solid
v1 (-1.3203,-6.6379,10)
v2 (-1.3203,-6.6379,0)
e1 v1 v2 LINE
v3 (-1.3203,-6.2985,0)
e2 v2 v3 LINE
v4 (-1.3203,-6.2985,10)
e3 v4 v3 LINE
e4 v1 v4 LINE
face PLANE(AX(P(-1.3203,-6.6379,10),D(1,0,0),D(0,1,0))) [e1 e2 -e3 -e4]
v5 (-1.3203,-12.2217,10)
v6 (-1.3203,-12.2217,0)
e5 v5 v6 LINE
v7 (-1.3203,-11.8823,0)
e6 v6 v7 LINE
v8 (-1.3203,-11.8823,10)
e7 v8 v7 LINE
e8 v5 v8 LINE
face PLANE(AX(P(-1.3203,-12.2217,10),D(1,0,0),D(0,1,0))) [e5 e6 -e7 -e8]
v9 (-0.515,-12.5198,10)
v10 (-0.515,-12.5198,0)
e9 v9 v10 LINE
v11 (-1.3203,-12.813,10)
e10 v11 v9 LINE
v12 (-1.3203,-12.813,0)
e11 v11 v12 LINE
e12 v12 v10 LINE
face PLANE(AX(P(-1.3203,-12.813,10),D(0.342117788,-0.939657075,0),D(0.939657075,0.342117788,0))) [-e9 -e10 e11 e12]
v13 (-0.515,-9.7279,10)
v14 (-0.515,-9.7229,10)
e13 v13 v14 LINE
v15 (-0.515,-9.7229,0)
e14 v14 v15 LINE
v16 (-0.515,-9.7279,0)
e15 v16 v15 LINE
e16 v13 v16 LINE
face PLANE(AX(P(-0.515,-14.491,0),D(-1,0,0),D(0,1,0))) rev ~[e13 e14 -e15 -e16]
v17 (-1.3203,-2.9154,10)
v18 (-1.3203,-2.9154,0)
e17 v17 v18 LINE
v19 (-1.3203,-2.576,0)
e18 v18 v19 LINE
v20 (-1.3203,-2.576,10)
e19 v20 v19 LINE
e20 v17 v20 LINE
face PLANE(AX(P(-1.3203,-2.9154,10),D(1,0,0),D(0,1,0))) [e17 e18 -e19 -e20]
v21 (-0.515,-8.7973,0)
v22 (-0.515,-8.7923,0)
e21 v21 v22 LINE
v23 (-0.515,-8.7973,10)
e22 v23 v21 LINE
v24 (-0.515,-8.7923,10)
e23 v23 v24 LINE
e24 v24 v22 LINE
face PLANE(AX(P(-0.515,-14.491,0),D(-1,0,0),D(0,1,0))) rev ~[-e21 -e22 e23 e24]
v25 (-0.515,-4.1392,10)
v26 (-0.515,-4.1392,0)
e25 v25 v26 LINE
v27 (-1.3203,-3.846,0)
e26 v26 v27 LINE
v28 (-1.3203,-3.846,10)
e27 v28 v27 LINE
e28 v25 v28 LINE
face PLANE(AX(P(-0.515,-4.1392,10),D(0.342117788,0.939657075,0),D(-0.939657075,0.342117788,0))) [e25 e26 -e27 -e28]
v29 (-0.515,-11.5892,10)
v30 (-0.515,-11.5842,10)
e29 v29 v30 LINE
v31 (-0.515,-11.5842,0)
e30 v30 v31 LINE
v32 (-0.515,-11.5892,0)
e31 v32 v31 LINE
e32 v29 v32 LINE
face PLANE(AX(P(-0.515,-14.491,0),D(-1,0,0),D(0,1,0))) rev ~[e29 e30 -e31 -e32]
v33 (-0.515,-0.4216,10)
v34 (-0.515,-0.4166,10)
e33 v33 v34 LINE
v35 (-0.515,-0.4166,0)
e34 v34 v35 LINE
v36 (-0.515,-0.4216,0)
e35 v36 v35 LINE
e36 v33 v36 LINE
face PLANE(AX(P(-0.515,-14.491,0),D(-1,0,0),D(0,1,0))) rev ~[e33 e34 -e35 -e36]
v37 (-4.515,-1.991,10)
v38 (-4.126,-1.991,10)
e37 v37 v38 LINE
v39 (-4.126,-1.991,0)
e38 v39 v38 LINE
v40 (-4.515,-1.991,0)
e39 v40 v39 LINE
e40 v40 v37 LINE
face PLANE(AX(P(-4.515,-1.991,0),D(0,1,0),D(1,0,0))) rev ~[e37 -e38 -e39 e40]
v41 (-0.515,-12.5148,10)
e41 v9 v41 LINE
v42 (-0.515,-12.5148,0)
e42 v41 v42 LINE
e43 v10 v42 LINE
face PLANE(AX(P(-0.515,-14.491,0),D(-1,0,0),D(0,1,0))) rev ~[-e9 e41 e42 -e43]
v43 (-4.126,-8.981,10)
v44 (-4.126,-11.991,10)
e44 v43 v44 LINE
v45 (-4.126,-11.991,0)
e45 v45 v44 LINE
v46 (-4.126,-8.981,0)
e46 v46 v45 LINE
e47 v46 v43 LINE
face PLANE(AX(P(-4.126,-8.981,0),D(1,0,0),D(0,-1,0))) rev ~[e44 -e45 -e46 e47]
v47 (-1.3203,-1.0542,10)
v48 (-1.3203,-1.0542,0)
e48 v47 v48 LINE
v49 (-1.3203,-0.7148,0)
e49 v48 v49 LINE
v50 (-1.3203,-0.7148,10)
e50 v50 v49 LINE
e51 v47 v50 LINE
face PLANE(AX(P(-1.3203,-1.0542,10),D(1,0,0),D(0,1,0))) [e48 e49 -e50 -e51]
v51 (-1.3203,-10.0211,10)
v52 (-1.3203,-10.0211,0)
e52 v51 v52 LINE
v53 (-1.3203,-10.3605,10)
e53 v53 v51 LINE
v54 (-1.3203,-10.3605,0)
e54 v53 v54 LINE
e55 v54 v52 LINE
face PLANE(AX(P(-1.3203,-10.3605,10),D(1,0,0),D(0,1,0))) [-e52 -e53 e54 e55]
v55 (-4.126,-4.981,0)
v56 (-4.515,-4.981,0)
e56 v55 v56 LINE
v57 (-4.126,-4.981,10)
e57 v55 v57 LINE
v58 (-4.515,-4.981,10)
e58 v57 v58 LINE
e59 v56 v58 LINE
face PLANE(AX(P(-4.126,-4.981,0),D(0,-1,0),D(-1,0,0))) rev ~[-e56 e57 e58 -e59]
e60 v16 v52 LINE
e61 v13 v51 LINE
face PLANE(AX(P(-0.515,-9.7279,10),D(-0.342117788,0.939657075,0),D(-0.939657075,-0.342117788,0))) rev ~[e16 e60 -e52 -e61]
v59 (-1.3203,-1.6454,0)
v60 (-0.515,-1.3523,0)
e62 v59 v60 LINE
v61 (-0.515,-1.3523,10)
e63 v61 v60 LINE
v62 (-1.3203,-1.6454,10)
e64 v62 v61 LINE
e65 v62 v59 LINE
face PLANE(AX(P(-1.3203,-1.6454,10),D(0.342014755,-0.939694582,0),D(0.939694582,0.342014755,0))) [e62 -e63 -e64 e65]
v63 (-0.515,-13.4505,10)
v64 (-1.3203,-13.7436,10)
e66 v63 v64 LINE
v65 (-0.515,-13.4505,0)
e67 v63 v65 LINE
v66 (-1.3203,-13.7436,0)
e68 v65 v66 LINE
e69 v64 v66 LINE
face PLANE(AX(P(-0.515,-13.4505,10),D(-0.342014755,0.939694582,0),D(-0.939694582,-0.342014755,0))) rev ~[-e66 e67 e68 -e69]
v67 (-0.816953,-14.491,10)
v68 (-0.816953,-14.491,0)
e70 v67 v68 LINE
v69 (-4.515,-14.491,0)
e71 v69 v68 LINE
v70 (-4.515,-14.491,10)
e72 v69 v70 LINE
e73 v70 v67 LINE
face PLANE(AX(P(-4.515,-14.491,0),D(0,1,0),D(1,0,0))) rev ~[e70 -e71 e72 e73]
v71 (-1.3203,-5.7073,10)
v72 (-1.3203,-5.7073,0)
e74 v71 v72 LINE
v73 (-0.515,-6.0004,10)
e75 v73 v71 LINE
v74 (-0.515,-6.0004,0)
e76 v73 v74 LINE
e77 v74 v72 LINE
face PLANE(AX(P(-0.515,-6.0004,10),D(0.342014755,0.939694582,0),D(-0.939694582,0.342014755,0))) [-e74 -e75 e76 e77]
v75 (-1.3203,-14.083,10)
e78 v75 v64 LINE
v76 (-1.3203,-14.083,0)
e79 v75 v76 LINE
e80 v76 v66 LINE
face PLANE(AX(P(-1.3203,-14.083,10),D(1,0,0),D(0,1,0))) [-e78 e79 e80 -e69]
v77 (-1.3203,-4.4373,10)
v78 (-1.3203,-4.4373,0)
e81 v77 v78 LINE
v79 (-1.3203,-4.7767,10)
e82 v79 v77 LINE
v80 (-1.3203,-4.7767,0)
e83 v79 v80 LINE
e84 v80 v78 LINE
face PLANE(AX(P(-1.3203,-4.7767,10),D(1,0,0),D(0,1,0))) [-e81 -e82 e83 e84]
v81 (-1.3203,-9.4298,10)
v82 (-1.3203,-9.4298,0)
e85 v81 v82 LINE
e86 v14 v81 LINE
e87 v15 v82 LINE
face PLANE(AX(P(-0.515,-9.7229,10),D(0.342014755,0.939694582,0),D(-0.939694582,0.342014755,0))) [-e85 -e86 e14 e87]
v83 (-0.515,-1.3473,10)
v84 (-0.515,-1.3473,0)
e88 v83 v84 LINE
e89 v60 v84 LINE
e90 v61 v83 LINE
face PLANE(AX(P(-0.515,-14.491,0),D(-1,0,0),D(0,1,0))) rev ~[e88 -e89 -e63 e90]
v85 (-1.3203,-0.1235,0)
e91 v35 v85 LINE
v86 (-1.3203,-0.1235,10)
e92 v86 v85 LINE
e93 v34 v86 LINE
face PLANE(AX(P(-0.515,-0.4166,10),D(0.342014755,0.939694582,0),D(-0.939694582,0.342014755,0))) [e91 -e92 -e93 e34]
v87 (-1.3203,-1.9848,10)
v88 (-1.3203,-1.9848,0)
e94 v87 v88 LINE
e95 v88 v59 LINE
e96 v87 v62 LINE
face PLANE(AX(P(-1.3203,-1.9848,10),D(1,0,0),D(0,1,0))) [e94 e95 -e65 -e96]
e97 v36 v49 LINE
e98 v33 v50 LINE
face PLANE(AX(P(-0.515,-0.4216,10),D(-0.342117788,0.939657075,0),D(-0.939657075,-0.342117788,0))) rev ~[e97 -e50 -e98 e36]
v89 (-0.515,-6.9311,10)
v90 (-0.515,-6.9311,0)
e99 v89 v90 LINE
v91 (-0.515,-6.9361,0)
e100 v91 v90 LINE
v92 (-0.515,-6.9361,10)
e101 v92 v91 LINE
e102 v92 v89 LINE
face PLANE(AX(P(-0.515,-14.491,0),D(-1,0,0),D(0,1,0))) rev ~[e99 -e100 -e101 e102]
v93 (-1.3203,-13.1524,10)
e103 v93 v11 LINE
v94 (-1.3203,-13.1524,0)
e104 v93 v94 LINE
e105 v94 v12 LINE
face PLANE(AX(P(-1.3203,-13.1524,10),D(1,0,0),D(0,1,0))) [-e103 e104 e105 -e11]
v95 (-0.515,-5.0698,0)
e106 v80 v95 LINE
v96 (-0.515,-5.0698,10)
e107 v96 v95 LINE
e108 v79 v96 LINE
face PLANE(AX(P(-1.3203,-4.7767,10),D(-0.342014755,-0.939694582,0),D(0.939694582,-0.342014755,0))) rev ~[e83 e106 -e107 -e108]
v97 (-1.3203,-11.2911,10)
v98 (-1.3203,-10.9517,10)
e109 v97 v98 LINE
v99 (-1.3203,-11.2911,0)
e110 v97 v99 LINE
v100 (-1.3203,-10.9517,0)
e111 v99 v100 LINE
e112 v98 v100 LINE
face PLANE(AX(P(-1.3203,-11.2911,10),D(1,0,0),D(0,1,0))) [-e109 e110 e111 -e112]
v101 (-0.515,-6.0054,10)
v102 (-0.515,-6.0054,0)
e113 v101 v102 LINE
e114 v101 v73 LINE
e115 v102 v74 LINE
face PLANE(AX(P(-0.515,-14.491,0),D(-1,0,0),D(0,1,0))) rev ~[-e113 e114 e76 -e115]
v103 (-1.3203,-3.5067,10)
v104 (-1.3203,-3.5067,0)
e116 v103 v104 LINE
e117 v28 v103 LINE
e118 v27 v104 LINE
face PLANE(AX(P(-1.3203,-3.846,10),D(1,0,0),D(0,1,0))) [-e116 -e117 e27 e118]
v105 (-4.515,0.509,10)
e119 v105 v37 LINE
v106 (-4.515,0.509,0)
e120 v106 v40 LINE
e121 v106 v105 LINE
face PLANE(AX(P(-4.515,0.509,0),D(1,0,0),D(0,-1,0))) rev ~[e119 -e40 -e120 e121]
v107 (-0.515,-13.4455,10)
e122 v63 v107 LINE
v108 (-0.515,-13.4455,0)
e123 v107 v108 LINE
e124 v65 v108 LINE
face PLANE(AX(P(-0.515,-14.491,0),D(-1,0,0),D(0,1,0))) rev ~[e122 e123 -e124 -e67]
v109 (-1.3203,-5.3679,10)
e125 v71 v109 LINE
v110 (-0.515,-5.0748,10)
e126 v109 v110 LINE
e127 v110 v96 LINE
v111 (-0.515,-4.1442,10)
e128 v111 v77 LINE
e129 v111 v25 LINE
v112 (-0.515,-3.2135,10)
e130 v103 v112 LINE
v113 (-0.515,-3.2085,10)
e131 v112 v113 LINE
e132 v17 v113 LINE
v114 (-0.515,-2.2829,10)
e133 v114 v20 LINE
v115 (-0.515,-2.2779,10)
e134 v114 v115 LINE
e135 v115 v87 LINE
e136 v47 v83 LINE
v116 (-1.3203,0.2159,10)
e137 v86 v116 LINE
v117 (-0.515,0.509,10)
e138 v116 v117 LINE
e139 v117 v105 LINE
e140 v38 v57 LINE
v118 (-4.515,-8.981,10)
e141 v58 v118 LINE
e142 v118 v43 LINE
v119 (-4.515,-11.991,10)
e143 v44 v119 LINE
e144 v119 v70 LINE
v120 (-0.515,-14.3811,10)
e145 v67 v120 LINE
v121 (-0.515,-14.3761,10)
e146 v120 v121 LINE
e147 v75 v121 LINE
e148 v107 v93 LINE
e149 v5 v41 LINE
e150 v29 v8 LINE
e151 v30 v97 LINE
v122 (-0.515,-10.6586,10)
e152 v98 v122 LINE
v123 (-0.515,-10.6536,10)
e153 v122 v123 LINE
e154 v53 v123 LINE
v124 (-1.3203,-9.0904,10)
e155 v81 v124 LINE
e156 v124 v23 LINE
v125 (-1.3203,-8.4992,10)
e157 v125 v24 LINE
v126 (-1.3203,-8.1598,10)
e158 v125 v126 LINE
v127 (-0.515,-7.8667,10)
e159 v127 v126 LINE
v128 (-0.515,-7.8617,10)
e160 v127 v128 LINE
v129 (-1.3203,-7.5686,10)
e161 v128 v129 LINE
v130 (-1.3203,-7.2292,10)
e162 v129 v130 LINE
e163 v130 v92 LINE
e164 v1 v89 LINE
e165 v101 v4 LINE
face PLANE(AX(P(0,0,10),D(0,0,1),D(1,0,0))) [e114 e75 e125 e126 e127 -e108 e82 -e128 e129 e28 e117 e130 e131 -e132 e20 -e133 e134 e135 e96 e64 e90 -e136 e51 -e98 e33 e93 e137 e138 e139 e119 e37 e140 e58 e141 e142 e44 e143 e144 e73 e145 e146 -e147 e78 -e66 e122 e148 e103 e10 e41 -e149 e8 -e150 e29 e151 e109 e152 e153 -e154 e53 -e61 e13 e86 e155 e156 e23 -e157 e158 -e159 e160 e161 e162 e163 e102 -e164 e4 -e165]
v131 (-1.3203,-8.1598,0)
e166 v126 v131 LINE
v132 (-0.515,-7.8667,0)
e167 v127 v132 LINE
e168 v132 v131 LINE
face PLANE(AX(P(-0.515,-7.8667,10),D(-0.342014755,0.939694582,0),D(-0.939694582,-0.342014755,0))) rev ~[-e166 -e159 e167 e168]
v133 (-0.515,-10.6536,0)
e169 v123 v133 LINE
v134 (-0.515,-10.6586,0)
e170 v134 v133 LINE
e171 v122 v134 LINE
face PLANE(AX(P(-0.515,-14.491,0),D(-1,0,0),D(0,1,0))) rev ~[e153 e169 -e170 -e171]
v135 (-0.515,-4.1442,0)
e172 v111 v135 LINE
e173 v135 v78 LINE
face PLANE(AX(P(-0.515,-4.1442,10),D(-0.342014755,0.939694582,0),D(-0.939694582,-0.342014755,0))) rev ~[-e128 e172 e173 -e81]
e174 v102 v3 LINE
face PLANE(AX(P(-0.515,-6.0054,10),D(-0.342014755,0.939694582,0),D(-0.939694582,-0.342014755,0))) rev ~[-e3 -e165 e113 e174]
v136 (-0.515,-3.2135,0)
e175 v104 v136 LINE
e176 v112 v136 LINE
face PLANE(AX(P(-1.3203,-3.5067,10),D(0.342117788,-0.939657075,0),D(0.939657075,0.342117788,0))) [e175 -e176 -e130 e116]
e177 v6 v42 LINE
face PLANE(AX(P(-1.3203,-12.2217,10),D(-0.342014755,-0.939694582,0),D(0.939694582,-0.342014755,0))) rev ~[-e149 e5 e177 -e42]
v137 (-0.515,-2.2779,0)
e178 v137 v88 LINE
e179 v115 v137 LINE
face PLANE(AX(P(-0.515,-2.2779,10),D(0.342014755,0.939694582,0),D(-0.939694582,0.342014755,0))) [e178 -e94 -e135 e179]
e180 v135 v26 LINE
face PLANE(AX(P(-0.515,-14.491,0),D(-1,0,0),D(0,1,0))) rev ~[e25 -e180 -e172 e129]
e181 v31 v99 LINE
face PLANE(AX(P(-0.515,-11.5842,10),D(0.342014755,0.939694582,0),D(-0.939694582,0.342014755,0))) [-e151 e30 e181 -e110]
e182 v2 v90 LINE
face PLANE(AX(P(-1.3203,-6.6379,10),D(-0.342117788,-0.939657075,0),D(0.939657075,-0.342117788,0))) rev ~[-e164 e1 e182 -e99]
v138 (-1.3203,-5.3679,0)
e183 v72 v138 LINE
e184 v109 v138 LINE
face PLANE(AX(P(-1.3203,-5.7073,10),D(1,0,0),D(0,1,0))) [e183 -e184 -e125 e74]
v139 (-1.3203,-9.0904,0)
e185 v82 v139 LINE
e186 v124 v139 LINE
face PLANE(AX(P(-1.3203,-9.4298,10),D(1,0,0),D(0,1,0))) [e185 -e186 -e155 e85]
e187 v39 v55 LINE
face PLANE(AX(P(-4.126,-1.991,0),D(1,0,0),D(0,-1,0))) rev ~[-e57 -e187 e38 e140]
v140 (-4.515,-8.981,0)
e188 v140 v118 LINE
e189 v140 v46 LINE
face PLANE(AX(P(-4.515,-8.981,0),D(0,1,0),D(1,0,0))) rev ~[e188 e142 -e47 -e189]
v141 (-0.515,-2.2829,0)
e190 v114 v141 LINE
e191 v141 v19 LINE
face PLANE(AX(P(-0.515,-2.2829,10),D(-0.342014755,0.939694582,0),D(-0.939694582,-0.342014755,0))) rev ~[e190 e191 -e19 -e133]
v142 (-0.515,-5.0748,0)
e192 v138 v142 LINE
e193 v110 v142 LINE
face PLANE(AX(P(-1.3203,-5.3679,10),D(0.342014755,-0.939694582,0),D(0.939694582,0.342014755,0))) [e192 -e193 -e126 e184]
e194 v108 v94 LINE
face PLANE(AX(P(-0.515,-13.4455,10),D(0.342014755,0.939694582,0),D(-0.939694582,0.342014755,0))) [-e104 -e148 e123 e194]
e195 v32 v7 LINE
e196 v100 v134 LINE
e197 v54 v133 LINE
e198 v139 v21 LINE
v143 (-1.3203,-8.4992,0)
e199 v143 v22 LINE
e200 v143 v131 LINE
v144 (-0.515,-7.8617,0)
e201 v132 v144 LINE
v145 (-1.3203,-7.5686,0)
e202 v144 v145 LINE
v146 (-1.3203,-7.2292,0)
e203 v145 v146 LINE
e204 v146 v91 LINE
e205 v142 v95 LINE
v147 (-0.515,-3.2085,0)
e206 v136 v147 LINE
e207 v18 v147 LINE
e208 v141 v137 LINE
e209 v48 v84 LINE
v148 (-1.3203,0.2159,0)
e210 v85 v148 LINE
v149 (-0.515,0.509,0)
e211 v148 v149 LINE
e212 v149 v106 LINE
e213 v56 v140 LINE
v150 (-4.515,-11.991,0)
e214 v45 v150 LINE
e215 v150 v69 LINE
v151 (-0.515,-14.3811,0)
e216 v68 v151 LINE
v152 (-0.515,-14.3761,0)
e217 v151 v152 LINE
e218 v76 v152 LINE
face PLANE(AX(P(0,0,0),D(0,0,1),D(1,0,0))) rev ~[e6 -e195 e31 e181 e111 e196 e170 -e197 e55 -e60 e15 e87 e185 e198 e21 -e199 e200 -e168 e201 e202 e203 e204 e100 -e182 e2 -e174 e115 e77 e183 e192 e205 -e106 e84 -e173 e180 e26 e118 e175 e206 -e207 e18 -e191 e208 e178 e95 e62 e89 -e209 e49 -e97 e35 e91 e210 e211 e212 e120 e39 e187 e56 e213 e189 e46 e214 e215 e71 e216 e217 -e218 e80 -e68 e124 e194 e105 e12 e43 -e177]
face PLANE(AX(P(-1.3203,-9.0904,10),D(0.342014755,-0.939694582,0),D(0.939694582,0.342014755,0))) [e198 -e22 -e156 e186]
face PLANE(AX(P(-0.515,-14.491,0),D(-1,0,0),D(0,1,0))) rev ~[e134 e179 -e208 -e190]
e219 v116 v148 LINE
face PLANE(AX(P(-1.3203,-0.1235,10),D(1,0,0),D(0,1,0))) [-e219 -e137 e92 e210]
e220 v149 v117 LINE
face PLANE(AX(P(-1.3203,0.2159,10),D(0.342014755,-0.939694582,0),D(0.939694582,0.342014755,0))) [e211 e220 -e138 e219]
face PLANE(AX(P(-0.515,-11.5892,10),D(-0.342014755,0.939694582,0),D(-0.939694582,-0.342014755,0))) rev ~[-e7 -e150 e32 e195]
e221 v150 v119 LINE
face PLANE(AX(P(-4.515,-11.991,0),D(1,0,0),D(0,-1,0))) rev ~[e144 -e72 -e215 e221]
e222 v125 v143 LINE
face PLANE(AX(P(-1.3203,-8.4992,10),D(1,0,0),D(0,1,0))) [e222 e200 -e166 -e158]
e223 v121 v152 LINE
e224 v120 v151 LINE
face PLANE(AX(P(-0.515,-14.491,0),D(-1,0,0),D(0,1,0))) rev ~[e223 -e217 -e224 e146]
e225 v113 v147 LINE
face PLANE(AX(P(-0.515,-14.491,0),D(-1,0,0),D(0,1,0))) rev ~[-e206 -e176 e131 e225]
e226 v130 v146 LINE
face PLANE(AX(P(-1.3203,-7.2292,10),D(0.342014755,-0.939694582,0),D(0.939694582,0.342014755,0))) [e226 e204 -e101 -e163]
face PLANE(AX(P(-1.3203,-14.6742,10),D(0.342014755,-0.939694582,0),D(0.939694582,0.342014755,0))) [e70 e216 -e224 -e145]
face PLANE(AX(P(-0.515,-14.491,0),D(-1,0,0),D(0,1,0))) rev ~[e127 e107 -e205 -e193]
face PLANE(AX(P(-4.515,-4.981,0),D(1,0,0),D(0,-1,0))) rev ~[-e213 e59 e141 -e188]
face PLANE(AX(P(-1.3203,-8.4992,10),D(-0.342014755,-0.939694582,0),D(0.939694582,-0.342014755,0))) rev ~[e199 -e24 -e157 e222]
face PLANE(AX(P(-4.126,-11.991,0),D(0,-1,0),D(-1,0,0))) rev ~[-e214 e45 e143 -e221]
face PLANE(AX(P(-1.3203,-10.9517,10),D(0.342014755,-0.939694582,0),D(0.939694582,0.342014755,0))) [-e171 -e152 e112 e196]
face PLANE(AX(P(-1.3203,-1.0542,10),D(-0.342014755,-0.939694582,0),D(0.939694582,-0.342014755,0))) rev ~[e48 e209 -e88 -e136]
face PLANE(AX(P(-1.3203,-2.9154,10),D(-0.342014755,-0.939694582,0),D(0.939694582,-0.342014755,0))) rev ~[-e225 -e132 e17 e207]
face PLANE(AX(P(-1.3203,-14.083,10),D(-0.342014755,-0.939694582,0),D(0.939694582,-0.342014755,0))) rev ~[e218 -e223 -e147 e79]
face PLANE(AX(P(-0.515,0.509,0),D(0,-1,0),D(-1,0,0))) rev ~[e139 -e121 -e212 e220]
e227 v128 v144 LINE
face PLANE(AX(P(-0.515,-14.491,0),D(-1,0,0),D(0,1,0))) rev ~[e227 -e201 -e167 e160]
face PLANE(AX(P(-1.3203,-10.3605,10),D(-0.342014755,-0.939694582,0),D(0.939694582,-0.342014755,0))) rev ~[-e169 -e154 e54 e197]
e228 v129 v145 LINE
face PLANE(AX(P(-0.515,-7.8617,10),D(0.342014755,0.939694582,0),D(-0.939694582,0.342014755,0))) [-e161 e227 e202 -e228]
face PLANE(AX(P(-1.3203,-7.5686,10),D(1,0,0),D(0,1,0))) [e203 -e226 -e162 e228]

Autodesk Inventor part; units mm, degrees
ref_plane "YZ Plane" through (0, 0, 0) normal (1, 0, 0) x (0, 1, 0)
ref_plane "XZ Plane" through (0, 0, 0) normal (0, 1, 0) x (-1, 0, 0)
ref_plane "XY Plane" through (0, 0, 0) normal (0, 0, 1) x (1, 0, 0)
sketch "Sketch1" plane through (0, 0, 0) normal (0, 0, 1) x (1, 0, 0)
  line L0 (-0.515, 0.509) -> (-4.515, 0.509)
  line L1 (-4.515, -14.491) -> (-0.515, -14.491)
  line L2 (-0.515, -14.491) -> (-0.515, 0.509)
  line L3 (-4.515, -1.991) -> (-4.126, -1.991)
  line L4 (-4.126, -1.991) -> (-4.126, -4.981)
  line L5 (-4.126, -4.981) -> (-4.515, -4.981)
  line L6 (-4.515, -4.981) -> (-4.515, -1.991)
  line L7 (-4.515, -8.981) -> (-4.126, -8.981)
  line L8 (-4.126, -8.981) -> (-4.126, -11.991)
  line L9 (-4.126, -11.991) -> (-4.515, -11.991)
  line L10 (-4.515, -11.991) -> (-4.515, -8.981)
  line L11 (-4.515, 0.509) -> (-4.515, -1.991)
  line L12 (-4.515, -4.981) -> (-4.515, -14.491)
  point P0 (0, 0)
  dimension "d0" = 4
  dimension "d1" = 15
  dimension "d2" = 0.389
  dimension "d3" = 2.99
  dimension "d4" = 4
  dimension "d5" = 2.5
  dimension "d6" = 3.01
extrude "Extrusion1" add sketch "Sketch1" along normal blind 10 contours L2 L1 L12 L9 L8 L7 L5 L4 L3 L11 L0
sketch "Sketch6" plane through (0, 0, 10) normal (0, 0, 1) x (1, 0, 0)
  line L0 (-0.515, 0.509) -> (-0.515, -14.491) projected
  line L1 (-0.515, -0.4166) -> (-1.3203, -0.1235)
  line L2 (-1.3203, -0.1235) -> (-1.3203, 0.0462)
  line L3 (-1.3203, 0.2159) -> (-0.515, 0.509)
  line L4 (-1.3203, 0.2159) -> (-1.3203, 0.0462)
  line L5 (-0.515, 0.509) -> (-0.515, -0.4166)
  line L6 (-0.412, -0.4191) -> (-1.6665, -0.4191) construction
  line L7 (-1.3203, -1.0542) -> (-0.515, -1.3473)
  line L8 (-0.515, -1.3473) -> (-0.515, -0.4216)
  line L9 (-1.3203, -1.0542) -> (-1.3203, -0.8845)
  line L10 (-1.3203, -0.7148) -> (-1.3203, -0.8845)
  line L11 (-0.515, -0.4216) -> (-1.3203, -0.7148)
  line L12 (-0.1629, -1.3498) -> (-1.5742, -1.3498) construction
  line L13 (-1.3203, -2.9154) -> (-0.515, -3.2085)
  line L14 (-0.515, -3.2085) -> (-0.515, -2.2829)
  line L15 (-1.3203, -2.9154) -> (-1.3203, -2.7457)
  line L16 (-1.3203, -2.576) -> (-1.3203, -2.7457)
  line L17 (-0.515, -2.2829) -> (-1.3203, -2.576)
  line L18 (-1.3203, -1.6454) -> (-0.515, -1.3523)
  line L19 (-0.515, -1.3523) -> (-0.515, -2.2779)
  line L20 (-1.3203, -1.6454) -> (-1.3203, -1.8151)
  line L21 (-1.3203, -1.9848) -> (-1.3203, -1.8151)
  line L22 (-0.515, -2.2779) -> (-1.3203, -1.9848)
  line L23 (-0.071, -3.211) -> (-1.4404, -3.211) construction
  line L24 (-1.3203, -6.6379) -> (-0.515, -6.9311)
  line L25 (-0.515, -6.9311) -> (-0.515, -6.0054)
  line L26 (-1.3203, -6.6379) -> (-1.3203, -6.4682)
  line L27 (-1.3203, -6.2985) -> (-1.3203, -6.4682)
  line L28 (-0.515, -6.0054) -> (-1.3203, -6.2985)
  line L29 (-1.3203, -5.3679) -> (-0.515, -5.0748)
  line L30 (-0.515, -5.0748) -> (-0.515, -6.0004)
  line L31 (-1.3203, -5.3679) -> (-1.3203, -5.5376)
  line L32 (-1.3203, -5.7073) -> (-1.3203, -5.5376)
  line L33 (-0.515, -6.0004) -> (-1.3203, -5.7073)
  line L34 (-1.3203, -3.5067) -> (-0.515, -3.2135)
  line L35 (-0.515, -3.2135) -> (-0.515, -4.1392)
  line L36 (-1.3203, -3.5067) -> (-1.3203, -3.6764)
  line L37 (-1.3203, -3.846) -> (-1.3203, -3.6764)
  line L38 (-0.515, -4.1392) -> (-1.3203, -3.846)
  line L39 (-0.515, -4.1442) -> (-1.3203, -4.4373)
  line L40 (-0.515, -5.0698) -> (-0.515, -4.1442)
  line L41 (-1.3203, -4.7767) -> (-0.515, -5.0698)
  line L42 (-1.3203, -4.7767) -> (-1.3203, -4.607)
  line L43 (-1.3203, -4.4373) -> (-1.3203, -4.607)
  line L44 (0.2425, -6.9336) -> (-1.3203, -6.9336) construction
  line L45 (-1.3203, -8.4992) -> (-0.515, -8.7923)
  line L46 (-0.515, -8.7923) -> (-0.515, -7.8667)
  line L47 (-0.515, -7.8667) -> (-1.3203, -8.1598)
  line L48 (-1.3203, -8.1598) -> (-1.3203, -8.3295)
  line L49 (-1.3203, -8.4992) -> (-1.3203, -8.3295)
  line L50 (-1.3203, -7.2292) -> (-0.515, -6.9361)
  line L51 (-1.3203, -7.2292) -> (-1.3203, -7.3989)
  line L52 (-1.3203, -7.5686) -> (-1.3203, -7.3989)
  line L53 (-0.515, -7.8617) -> (-1.3203, -7.5686)
  line L54 (-0.515, -6.9361) -> (-0.515, -7.8617)
  line L55 (-1.3203, -10.9517) -> (-0.515, -10.6586)
  line L56 (-0.515, -10.6586) -> (-0.515, -11.5842)
  line L57 (-1.3203, -10.9517) -> (-1.3203, -11.1214)
  line L58 (-1.3203, -11.2911) -> (-1.3203, -11.1214)
  line L59 (-0.515, -11.5842) -> (-1.3203, -11.2911)
  line L60 (-0.515, -9.7279) -> (-1.3203, -10.0211)
  line L61 (-1.3203, -10.0211) -> (-1.3203, -10.1908)
  line L62 (-1.3203, -10.3605) -> (-1.3203, -10.1908)
  line L63 (-1.3203, -10.3605) -> (-0.515, -10.6536)
  line L64 (-0.515, -10.6536) -> (-0.515, -9.7279)
  line L65 (-0.515, -8.7973) -> (-0.515, -9.7229)
  line L66 (-0.515, -9.7229) -> (-1.3203, -9.4298)
  line L67 (-1.3203, -9.0904) -> (-1.3203, -9.2601)
  line L68 (-1.3203, -9.4298) -> (-1.3203, -9.2601)
  line L69 (-1.3203, -9.0904) -> (-0.515, -8.7973)
  line L70 (-4.515, -8.981) -> (-4.515, -4.981) projected
  line L71 (0.0056, -11.5867) -> (-1.782, -11.5867) construction
  line L72 (-1.3203, -16.5355) -> (-0.515, -16.2424)
  line L73 (-1.3203, -16.5355) -> (-1.3203, -16.7052)
  line L74 (-1.3203, -16.8749) -> (-1.3203, -16.7052)
  line L75 (-0.515, -17.168) -> (-1.3203, -16.8749)
  line L76 (-0.515, -16.2424) -> (-0.515, -17.168)
  line L77 (-0.515, -15.3117) -> (-1.3203, -15.6048)
  line L78 (-1.3203, -15.6048) -> (-1.3203, -15.7745)
  line L79 (-1.3203, -15.9442) -> (-0.515, -16.2374)
  line L80 (-1.3203, -15.9442) -> (-1.3203, -15.7745)
  line L81 (-0.515, -16.2374) -> (-0.515, -15.3117)
  line L82 (-0.515, -14.3811) -> (-0.515, -15.3067)
  line L83 (-0.515, -15.3067) -> (-1.3203, -15.0136)
  line L84 (-1.3203, -15.0136) -> (-1.3203, -14.8439)
  line L85 (-1.3203, -14.6742) -> (-1.3203, -14.8439)
  line L86 (-1.3203, -14.6742) -> (-0.515, -14.3811)
  line L87 (-1.3203, -14.083) -> (-0.515, -14.3761)
  line L88 (-1.3203, -14.083) -> (-1.3203, -13.9133)
  line L89 (-1.3203, -13.7436) -> (-1.3203, -13.9133)
  line L90 (-0.515, -13.4505) -> (-1.3203, -13.7436)
  line L91 (-0.515, -14.3761) -> (-0.515, -13.4505)
  line L92 (-0.515, -13.4455) -> (-1.3203, -13.1524)
  line L93 (-1.3203, -13.1524) -> (-1.3203, -12.9827)
  line L94 (-1.3203, -12.813) -> (-1.3203, -12.9827)
  line L95 (-1.3203, -12.813) -> (-0.515, -12.5198)
  line L96 (-0.515, -12.5198) -> (-0.515, -13.4455)
  line L97 (-1.3203, -12.2217) -> (-0.515, -12.5148)
  line L98 (-1.3203, -12.2217) -> (-1.3203, -12.052)
  line L99 (-1.3203, -11.8823) -> (-1.3203, -12.052)
  line L100 (-0.515, -11.5892) -> (-1.3203, -11.8823)
  line L101 (-0.515, -12.5148) -> (-0.515, -11.5892)
  dimension "d70" = 0
  dimension "d71" = 0
  dimension "d72" = 70
  dimension "d73" = 0.8053
  dimension "d74" = 70
  dimension "d76" = 0.1697
  dimension "d77" = 110
  dimension "d78" = 70
  dimension "d79" = 40
  dimension "d80" = 0.9256
  dimension "d81" = 0.0025
  dimension "d82" = 0.0025
  dimension "d83" = 0.0025
  dimension "d84" = 0.0025
  dimension "d87" = 0.0025
extrude "Extrusion4" cut sketch "Sketch6" against normal through all contours L0 L82 L83 L84 L85 L86 | L0 L87 L88 L89 L90 | L0 L92 L93 L94 L95 | L0 L97 L98 L99 L100 | L0 L59 L58 L57 L55 | L0 L63 L62 L61 L60 | L0 L66 L68 L67 L69 | L0 L45 L49 L48 L47 | L0 L53 L52 L51 L50 | L0 L24 L26 L27 L28 | L0 L33 L32 L31 L29 | L0 L41 L42 L43 L39 | L0 L38 L37 L36 L34 | L0 L13 L15 L16 L17 | L0 L22 L21 L20 L18 | L0 L7 L9 L10 L11 | L0 L1 L2 L4 L3
equation "\"d14\" = 15.81278"
equation "\"d15\" = 20deg"
equation "\"d16\" = 8.01181"
equation "\"d17\" = 10.54185"
equation "\"d18\" = 3.31182"
equation "\"d24\" = 15.81278"
equation "\"d25\" = 20deg"
equation "\"d26\" = 8.01181"
equation "\"d27\" = 10.54185"
equation "\"d28\" = 3.31182"
equation "\"d35\" = 15.81278"
equation "\"d36\" = 20deg"
equation "\"d37\" = 8.01181"
equation "\"d38\" = 10.54185"
equation "\"d39\" = 3.31182"
equation "\"d59\" = 3.35558"
equation "\"d60\" = 20deg"
equation "\"d61\" = 2.55024"
equation "\"d62\" = 3.35558"
equation "\"d63\" = 1.05419"
properties part number "rack2"
